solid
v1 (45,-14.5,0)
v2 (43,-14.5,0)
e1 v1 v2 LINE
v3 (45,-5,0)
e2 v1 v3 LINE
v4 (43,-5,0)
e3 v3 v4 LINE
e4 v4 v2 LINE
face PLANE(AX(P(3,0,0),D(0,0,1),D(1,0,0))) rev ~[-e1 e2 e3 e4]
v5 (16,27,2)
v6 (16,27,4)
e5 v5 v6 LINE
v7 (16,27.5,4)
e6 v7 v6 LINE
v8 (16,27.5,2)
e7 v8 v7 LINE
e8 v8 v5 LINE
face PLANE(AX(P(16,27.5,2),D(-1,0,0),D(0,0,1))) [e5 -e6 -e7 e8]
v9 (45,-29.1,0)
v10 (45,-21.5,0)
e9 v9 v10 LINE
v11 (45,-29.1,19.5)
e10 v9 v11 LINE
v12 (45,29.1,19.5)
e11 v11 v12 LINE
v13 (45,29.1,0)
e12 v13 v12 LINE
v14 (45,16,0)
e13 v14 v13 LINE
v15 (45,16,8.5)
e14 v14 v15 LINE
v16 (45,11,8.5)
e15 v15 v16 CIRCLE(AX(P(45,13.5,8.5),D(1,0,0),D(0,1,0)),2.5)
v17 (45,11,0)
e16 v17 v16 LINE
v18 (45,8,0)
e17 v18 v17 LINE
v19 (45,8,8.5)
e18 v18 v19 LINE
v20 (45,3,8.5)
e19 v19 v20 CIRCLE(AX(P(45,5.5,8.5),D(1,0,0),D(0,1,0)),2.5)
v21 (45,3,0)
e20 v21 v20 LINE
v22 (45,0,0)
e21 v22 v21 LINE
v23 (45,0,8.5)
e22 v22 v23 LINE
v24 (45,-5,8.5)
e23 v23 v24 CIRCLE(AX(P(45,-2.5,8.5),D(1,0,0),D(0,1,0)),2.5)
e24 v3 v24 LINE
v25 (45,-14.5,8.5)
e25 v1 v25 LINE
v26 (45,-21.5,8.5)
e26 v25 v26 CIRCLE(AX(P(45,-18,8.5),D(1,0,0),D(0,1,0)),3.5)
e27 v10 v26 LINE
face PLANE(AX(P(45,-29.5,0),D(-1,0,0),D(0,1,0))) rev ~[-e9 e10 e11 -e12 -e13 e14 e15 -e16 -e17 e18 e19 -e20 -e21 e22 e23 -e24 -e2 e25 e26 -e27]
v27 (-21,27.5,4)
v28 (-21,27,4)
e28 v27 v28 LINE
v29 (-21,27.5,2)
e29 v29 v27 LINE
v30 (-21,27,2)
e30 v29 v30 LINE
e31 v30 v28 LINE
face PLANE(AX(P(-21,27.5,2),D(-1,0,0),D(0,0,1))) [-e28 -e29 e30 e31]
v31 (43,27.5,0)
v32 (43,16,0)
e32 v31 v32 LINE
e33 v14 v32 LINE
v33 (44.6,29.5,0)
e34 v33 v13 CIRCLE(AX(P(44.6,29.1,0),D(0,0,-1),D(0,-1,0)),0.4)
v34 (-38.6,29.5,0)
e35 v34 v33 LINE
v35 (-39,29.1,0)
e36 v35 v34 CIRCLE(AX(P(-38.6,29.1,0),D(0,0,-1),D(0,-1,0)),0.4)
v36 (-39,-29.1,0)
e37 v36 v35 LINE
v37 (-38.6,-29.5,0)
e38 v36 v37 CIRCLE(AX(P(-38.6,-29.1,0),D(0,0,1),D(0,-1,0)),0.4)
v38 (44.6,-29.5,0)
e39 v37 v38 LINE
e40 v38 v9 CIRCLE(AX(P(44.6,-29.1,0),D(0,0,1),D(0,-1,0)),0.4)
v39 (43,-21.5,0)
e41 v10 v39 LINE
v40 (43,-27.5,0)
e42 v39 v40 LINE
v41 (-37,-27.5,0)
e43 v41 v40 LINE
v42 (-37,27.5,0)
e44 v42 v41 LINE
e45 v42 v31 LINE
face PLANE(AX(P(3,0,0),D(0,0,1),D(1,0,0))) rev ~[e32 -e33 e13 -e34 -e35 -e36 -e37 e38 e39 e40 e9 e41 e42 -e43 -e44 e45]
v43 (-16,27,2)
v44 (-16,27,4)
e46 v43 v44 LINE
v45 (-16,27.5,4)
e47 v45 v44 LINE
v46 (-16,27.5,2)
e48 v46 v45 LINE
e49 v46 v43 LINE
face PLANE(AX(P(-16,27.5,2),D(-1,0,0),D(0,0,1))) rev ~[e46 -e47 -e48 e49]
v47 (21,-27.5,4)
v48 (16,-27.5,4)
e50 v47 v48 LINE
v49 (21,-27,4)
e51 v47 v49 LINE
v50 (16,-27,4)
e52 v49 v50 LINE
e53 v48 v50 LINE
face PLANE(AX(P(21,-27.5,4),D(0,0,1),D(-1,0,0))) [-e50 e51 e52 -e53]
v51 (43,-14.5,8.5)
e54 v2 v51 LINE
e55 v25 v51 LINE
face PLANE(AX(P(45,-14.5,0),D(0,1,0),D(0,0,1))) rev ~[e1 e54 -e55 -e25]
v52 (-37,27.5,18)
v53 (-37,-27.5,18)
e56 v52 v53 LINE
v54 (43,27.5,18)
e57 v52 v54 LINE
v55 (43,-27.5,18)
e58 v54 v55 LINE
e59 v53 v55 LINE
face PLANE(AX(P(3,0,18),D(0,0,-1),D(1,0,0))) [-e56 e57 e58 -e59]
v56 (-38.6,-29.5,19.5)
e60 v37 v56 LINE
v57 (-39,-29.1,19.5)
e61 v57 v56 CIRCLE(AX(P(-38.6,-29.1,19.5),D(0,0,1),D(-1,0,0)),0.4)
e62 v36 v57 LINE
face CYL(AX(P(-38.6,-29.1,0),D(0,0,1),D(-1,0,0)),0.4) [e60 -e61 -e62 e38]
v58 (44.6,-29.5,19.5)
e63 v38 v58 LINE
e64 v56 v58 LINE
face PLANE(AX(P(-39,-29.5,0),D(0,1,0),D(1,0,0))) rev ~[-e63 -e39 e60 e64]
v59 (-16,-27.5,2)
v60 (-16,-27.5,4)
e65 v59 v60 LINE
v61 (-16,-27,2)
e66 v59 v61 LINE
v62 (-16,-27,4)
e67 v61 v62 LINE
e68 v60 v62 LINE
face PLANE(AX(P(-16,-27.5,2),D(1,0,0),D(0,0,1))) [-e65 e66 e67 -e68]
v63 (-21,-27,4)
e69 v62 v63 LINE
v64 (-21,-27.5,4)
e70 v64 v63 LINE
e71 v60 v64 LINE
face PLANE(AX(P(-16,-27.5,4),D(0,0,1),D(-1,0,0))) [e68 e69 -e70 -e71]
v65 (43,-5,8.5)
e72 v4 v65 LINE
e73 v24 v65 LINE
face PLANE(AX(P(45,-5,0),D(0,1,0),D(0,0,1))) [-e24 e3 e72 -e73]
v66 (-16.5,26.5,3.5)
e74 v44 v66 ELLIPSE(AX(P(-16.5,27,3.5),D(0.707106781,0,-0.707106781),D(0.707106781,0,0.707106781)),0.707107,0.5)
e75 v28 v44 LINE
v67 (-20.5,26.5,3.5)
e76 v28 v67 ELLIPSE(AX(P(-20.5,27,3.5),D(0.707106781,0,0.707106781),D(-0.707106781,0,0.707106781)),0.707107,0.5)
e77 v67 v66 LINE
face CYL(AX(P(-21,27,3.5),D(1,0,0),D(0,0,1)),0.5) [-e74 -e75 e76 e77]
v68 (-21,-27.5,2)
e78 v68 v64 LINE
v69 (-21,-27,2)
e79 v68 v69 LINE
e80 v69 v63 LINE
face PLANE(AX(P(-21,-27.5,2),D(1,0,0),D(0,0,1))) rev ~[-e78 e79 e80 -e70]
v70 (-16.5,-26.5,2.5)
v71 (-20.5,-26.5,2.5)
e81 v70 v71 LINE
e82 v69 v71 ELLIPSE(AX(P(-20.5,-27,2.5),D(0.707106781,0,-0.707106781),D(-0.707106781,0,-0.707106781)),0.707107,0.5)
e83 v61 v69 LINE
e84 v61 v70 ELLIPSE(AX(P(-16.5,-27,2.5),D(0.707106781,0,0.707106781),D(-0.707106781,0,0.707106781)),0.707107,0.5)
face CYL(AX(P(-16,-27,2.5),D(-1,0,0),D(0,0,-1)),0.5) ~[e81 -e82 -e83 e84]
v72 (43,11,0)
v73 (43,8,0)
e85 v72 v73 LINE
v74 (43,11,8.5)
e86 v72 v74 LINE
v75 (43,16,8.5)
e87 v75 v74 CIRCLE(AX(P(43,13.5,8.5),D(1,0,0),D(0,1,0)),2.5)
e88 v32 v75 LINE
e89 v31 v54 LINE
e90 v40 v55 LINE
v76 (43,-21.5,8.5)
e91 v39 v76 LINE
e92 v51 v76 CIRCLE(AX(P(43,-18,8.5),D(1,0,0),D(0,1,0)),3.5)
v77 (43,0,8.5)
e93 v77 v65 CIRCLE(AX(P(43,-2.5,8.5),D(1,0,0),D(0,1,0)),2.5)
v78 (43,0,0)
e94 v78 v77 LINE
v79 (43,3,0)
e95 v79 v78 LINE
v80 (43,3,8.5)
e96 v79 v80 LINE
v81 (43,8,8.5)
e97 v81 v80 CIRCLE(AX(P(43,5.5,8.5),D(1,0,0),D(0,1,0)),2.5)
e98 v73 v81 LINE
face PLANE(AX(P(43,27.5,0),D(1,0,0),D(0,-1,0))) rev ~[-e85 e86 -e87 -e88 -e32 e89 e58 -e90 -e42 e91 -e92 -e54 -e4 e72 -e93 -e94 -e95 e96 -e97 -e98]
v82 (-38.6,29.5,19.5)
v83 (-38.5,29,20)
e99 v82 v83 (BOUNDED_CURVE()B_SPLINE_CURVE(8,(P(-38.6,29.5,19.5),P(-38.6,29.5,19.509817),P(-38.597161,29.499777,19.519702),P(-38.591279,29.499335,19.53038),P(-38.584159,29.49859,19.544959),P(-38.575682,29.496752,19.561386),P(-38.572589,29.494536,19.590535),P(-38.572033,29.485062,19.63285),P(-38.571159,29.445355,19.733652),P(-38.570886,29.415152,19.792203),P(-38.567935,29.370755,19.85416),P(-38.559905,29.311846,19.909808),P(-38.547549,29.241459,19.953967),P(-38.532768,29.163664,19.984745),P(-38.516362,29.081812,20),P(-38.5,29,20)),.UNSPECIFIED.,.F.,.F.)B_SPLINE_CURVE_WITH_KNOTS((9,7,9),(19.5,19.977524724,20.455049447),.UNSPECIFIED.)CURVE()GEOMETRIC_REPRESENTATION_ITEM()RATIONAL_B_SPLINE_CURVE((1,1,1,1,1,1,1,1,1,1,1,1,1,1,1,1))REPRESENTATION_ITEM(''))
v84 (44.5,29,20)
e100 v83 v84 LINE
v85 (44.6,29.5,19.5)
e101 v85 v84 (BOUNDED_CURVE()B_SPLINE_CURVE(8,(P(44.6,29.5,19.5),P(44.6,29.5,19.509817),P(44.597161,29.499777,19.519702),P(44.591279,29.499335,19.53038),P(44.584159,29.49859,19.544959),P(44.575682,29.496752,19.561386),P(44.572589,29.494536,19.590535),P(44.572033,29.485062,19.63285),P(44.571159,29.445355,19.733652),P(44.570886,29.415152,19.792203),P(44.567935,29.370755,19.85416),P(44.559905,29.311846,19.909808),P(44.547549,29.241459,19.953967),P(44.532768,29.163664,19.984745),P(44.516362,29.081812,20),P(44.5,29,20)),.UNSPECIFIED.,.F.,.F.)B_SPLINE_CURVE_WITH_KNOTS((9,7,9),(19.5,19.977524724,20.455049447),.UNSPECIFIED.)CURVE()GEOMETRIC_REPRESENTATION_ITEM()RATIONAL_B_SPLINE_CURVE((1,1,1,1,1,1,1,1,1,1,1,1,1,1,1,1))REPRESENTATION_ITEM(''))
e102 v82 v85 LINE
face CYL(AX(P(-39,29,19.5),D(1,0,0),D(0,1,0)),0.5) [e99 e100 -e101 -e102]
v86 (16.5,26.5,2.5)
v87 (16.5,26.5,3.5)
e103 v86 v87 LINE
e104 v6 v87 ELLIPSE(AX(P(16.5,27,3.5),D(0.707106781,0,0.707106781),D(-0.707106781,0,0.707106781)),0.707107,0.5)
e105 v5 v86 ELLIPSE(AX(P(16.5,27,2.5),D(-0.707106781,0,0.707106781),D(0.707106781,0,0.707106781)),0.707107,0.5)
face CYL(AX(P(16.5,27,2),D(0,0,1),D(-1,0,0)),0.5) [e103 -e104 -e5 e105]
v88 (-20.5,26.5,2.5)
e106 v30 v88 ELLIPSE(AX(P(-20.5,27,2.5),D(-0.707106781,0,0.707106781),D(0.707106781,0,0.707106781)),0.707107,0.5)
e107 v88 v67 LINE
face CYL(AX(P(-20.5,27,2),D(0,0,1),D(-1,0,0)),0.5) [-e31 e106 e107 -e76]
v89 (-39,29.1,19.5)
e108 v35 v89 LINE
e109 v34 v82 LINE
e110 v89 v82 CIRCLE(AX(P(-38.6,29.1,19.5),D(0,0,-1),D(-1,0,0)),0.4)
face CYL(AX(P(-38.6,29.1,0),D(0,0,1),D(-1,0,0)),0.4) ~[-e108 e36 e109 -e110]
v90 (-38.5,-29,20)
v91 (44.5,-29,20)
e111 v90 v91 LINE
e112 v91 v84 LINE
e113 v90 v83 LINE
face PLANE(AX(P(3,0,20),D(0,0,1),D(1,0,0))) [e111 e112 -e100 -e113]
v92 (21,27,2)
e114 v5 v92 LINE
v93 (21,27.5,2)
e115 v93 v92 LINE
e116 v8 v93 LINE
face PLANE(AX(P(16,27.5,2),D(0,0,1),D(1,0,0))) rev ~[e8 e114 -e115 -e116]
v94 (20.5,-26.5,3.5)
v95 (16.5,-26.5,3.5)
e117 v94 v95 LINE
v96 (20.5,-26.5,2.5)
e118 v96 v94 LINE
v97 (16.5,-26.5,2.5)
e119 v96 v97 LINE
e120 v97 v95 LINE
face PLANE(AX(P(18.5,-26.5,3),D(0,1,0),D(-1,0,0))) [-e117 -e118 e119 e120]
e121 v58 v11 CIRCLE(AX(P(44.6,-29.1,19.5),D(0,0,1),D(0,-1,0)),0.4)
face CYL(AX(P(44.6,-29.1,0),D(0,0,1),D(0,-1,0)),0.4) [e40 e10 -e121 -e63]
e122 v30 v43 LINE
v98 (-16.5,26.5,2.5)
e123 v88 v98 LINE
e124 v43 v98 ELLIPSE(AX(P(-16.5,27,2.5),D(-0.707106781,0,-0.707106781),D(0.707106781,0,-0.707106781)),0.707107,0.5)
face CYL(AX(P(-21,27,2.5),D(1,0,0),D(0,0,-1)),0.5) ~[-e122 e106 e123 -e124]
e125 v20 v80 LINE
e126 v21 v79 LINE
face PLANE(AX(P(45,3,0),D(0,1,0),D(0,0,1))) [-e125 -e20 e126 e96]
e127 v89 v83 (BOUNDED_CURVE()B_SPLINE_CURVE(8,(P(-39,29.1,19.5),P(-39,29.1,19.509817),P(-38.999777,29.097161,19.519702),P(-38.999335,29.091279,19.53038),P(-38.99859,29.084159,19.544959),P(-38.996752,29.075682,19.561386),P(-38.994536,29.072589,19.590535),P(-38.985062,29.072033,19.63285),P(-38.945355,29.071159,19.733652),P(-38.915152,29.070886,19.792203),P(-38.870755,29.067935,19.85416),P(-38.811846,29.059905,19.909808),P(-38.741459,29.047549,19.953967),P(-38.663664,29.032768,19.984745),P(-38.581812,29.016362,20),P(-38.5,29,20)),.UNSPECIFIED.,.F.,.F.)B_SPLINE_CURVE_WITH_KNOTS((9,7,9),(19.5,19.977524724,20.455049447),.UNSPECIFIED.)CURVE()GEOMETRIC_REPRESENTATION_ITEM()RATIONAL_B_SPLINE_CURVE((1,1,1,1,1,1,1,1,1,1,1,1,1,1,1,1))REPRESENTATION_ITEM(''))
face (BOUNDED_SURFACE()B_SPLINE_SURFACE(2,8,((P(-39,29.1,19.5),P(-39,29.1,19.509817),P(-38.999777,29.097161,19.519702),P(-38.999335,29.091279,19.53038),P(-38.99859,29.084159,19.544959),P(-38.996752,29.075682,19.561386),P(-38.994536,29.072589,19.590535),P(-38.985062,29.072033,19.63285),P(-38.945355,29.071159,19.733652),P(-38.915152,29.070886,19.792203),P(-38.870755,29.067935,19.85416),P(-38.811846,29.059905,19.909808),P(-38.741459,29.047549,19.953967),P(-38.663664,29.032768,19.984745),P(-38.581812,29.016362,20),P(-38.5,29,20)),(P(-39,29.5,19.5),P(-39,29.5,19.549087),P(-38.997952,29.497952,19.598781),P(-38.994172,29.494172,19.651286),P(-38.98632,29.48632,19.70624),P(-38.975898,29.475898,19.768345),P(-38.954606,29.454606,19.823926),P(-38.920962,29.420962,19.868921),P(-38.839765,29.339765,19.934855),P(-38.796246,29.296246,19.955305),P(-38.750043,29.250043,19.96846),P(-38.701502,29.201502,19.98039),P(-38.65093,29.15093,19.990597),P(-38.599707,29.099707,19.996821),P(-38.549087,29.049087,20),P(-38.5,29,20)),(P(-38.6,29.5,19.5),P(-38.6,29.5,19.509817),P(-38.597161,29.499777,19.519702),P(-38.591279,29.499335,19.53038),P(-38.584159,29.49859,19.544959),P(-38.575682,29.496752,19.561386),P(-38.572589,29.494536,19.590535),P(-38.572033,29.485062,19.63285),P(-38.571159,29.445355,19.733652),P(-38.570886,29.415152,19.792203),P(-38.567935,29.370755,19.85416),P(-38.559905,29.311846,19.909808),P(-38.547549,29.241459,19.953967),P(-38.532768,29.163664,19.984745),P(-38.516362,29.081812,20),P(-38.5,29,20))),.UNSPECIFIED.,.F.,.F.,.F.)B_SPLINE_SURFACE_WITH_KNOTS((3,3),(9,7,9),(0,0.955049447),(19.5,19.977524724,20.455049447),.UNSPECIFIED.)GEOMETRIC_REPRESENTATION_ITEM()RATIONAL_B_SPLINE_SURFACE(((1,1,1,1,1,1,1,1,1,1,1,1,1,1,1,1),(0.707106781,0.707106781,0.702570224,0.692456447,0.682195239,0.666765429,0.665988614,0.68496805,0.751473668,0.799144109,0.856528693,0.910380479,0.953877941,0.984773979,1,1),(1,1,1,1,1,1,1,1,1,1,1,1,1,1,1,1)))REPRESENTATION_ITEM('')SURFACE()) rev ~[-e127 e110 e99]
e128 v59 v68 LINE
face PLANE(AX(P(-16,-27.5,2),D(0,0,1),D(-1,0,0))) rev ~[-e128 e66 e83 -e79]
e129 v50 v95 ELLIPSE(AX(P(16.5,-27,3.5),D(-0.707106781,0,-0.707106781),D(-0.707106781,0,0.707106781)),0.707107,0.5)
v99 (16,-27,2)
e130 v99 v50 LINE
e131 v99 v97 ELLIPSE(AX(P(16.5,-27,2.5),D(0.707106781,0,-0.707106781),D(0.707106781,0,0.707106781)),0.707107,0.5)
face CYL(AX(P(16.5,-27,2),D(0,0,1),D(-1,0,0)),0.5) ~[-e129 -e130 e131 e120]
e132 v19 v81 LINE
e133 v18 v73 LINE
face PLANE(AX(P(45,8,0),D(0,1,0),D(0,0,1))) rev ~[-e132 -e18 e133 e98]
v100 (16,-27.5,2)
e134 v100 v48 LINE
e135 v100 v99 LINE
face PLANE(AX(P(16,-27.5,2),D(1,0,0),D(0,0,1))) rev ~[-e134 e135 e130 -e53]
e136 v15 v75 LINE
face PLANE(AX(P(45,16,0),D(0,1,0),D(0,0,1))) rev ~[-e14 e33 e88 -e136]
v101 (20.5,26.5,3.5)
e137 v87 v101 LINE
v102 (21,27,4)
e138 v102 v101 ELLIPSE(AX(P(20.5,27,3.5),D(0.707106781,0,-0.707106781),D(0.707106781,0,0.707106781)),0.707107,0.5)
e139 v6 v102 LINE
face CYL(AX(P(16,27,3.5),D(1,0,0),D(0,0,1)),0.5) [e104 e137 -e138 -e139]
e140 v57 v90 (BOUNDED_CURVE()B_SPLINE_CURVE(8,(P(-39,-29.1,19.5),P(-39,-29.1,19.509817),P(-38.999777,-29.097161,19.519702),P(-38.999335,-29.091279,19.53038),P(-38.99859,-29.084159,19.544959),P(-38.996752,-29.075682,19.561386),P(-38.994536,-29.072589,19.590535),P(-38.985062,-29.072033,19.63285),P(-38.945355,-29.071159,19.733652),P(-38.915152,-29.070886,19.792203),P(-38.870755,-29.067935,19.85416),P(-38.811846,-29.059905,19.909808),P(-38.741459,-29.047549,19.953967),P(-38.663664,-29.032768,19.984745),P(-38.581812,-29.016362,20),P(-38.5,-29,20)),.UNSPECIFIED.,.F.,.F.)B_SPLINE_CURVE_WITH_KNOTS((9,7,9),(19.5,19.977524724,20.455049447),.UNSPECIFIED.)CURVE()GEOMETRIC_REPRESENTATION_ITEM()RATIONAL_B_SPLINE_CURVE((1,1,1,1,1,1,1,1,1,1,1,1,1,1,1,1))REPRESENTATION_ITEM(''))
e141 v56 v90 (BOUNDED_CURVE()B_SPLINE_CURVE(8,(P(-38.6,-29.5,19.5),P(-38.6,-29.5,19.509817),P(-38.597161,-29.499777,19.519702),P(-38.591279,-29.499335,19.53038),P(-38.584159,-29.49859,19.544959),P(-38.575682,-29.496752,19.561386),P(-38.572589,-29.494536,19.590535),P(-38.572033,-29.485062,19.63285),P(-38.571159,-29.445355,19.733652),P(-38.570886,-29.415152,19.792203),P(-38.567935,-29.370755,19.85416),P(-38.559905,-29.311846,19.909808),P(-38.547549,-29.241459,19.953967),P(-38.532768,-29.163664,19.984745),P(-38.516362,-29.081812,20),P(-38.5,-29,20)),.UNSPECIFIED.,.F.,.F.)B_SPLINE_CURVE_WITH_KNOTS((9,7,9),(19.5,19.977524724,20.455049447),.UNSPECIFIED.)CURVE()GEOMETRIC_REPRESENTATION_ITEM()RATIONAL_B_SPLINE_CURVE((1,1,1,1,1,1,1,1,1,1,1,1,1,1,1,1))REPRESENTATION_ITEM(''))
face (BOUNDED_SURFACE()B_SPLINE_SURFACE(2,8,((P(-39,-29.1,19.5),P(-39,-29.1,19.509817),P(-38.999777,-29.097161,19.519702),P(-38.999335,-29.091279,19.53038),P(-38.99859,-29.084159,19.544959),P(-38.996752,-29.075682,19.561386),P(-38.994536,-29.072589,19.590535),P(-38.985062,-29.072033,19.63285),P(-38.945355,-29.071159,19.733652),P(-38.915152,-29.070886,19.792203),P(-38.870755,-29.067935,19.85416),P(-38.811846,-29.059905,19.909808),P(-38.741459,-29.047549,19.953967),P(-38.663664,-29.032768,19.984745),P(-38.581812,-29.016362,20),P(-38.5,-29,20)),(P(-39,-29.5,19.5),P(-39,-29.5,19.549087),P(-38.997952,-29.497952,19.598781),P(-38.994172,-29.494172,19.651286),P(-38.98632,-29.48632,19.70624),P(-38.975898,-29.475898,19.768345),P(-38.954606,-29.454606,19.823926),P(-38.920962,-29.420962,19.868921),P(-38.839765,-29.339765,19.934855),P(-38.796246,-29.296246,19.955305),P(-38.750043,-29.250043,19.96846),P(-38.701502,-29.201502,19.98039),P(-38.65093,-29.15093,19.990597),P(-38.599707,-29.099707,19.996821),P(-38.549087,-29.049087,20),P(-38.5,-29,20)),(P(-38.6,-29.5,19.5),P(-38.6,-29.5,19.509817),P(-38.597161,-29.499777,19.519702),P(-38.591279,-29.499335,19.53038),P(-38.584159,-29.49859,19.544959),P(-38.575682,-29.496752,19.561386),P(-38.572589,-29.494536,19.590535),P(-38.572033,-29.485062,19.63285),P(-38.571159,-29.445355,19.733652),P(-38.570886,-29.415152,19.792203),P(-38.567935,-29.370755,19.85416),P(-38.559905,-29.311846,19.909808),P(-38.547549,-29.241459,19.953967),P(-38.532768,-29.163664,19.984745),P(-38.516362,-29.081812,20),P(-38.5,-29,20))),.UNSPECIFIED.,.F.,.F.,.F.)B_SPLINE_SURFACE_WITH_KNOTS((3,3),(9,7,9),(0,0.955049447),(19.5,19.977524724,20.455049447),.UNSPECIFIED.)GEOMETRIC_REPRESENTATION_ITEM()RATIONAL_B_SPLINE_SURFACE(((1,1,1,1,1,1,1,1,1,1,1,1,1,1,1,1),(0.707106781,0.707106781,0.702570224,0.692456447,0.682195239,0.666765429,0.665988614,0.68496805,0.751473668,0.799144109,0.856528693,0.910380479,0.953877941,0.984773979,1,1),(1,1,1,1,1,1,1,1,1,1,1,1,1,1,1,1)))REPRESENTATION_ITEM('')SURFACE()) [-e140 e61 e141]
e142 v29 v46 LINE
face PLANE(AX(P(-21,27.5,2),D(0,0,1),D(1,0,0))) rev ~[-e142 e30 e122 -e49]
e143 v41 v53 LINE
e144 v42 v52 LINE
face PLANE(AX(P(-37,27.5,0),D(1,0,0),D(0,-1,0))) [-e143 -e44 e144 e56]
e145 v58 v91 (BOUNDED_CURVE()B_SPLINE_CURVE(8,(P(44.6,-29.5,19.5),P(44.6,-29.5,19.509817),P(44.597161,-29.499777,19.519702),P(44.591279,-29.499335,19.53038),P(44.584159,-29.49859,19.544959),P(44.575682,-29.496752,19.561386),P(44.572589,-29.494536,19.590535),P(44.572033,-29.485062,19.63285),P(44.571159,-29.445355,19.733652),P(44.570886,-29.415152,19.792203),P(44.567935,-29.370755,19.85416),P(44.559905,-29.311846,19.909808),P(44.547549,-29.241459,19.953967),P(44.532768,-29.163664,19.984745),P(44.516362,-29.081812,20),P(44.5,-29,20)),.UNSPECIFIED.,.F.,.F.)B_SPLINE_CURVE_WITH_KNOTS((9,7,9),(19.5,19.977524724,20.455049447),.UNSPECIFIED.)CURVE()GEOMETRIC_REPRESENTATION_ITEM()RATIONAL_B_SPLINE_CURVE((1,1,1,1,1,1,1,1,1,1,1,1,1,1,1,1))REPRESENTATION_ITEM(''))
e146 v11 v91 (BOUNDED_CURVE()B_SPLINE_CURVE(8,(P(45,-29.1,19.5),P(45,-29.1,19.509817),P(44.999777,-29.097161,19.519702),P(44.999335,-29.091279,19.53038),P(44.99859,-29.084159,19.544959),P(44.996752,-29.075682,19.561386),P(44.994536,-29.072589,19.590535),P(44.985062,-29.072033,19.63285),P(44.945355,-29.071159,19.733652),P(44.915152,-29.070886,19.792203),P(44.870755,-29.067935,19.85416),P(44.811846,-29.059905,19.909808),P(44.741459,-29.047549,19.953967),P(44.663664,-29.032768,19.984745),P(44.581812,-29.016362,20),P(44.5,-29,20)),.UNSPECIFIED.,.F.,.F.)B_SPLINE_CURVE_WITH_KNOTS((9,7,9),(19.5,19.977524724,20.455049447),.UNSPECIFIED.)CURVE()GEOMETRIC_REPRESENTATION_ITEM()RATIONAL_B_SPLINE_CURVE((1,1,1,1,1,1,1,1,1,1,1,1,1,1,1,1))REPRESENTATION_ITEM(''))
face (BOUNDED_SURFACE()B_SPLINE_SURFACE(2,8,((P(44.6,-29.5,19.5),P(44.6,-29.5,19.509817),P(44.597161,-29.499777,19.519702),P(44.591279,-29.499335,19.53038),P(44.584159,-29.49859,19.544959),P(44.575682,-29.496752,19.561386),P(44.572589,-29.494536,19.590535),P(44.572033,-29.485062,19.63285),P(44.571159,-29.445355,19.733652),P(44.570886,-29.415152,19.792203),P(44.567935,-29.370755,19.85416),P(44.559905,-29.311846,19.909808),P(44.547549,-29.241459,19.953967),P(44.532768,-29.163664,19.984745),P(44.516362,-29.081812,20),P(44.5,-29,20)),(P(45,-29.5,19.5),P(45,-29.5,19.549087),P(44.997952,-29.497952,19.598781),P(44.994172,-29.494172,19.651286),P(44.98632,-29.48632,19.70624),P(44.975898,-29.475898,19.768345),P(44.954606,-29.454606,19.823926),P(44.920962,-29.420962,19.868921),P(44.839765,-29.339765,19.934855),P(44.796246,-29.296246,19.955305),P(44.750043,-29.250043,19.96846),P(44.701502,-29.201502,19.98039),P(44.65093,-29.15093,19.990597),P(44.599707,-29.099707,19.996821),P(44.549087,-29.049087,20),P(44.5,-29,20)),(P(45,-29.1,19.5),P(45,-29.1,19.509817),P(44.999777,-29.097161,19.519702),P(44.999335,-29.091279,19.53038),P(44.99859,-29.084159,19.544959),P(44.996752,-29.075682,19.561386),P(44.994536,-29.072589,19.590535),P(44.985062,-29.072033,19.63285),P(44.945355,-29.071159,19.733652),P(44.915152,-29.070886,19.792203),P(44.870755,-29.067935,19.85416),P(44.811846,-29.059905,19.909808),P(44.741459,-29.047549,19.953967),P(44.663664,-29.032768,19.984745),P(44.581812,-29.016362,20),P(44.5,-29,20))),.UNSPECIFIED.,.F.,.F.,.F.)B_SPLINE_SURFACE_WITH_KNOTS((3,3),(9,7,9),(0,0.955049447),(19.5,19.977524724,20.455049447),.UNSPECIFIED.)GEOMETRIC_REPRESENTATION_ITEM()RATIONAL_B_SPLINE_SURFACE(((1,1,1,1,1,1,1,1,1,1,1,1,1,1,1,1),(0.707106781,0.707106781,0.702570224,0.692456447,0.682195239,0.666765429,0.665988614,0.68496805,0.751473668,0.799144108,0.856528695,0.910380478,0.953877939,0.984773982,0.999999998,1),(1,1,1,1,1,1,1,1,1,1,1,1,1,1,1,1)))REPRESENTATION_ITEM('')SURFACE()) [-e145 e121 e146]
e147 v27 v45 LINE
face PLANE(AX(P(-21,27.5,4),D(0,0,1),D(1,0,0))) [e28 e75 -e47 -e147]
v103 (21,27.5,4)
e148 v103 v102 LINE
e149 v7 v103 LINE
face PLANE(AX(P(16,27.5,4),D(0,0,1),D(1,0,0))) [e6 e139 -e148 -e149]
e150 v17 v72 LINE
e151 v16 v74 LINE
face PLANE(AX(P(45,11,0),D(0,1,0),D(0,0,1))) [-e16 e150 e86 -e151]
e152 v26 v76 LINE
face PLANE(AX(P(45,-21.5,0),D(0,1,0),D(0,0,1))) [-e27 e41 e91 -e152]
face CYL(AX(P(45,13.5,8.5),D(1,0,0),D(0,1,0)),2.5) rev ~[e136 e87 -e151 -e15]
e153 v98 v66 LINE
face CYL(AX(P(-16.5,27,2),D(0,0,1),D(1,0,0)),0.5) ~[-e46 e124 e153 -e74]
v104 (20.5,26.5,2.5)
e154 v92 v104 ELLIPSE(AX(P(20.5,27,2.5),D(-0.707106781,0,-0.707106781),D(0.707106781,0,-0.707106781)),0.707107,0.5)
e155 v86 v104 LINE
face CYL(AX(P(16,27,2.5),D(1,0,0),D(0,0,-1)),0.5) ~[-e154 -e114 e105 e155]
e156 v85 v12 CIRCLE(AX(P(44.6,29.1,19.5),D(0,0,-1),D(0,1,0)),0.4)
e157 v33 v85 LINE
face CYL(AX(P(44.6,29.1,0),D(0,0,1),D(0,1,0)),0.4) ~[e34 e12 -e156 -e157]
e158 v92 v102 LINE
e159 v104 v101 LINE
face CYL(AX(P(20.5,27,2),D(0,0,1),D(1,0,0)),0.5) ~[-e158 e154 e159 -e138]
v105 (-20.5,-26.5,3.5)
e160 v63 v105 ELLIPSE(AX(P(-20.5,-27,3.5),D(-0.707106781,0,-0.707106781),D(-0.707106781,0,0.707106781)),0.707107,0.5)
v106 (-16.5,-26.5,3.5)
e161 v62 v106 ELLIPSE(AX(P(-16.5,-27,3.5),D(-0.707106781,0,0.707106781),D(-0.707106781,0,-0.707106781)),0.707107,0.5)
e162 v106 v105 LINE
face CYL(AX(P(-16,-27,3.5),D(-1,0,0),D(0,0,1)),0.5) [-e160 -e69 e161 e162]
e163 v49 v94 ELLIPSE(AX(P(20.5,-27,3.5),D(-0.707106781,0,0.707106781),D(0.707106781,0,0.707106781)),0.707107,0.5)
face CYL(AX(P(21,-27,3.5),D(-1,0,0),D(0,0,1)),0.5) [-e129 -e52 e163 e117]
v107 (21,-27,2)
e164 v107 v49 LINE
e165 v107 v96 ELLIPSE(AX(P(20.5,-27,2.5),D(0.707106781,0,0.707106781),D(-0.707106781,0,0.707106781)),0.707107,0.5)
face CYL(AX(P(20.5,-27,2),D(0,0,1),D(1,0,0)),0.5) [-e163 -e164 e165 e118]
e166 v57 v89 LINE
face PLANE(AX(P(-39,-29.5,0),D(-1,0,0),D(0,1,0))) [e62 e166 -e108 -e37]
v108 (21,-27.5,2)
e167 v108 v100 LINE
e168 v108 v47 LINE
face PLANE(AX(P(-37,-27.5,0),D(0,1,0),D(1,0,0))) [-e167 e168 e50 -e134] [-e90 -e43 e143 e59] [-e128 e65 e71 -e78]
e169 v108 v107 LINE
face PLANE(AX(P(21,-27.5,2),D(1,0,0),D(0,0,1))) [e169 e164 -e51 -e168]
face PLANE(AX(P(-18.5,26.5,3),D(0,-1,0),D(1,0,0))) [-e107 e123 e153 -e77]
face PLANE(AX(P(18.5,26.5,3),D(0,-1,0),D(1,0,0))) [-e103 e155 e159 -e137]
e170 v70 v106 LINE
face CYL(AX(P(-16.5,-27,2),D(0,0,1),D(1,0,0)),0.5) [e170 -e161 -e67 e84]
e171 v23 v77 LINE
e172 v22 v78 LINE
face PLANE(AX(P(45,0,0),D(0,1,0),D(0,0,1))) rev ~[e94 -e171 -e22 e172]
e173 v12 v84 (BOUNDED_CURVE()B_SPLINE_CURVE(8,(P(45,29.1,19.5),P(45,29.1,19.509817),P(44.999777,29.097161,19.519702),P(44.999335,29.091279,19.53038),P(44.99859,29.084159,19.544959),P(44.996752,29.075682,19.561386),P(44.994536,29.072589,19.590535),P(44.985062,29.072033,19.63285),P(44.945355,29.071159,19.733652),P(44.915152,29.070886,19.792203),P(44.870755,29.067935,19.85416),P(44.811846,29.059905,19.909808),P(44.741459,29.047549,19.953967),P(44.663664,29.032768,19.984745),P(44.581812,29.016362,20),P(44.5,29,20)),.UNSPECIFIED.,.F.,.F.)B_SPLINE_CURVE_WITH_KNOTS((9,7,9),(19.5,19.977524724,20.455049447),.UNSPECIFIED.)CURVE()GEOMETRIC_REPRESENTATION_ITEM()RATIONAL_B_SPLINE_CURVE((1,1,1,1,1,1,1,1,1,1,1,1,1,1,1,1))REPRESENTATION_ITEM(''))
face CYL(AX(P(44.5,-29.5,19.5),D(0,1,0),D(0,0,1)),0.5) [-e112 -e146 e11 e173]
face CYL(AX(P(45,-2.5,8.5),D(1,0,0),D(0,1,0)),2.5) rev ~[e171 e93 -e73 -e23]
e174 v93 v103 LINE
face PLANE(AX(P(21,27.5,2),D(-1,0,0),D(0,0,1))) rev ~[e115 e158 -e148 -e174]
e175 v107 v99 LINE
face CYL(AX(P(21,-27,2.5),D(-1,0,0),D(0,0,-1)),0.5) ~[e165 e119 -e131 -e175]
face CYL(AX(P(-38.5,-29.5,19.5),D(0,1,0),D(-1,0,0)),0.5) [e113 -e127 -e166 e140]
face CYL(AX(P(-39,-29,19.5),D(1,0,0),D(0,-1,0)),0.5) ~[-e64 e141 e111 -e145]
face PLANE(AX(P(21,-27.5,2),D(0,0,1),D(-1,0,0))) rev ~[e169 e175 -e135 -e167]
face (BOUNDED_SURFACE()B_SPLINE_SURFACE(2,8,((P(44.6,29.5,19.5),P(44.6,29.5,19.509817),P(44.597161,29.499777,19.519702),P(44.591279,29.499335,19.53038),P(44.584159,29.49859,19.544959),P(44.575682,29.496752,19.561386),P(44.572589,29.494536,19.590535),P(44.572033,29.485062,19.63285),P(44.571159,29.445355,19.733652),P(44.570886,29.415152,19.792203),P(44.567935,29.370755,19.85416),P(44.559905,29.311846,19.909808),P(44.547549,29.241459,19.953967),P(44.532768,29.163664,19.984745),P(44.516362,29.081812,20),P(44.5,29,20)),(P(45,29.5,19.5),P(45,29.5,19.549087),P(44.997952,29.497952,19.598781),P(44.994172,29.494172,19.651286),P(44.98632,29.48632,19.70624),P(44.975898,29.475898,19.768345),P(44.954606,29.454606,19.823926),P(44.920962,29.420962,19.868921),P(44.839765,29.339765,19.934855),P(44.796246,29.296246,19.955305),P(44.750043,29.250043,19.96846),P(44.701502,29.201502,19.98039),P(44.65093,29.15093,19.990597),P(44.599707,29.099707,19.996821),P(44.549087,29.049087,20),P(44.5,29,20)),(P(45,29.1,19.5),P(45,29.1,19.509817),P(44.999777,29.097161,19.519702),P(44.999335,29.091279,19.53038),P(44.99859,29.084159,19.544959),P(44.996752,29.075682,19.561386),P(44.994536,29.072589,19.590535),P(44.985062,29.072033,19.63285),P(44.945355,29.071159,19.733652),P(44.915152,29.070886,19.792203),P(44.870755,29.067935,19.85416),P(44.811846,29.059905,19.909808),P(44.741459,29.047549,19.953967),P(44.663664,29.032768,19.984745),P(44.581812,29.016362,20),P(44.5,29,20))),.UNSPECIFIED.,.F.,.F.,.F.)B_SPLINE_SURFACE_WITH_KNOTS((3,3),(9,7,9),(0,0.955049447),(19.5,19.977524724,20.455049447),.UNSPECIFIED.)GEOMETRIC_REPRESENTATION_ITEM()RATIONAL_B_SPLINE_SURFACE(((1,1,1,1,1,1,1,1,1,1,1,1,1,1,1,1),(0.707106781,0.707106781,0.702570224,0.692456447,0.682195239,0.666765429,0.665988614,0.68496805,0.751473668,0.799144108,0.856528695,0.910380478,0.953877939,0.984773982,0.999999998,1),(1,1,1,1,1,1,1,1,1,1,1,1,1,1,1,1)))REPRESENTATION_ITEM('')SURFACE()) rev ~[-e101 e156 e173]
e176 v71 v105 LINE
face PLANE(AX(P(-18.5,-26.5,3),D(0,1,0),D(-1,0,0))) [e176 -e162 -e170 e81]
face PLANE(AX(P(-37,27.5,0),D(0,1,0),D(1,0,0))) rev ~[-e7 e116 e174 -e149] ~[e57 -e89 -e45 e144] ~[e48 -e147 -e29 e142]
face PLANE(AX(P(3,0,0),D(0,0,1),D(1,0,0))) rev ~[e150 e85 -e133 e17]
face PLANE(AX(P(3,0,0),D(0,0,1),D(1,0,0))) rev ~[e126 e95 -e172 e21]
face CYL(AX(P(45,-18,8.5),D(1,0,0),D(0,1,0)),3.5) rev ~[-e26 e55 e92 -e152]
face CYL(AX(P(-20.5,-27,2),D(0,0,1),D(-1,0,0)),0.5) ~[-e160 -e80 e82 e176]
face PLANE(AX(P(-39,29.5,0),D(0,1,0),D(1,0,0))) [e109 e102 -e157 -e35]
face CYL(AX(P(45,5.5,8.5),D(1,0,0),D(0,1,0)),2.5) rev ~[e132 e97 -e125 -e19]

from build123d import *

# Parameters (mm, degrees)
SKETCH_W        = 84
SKETCH_H        = 59
PAD_DEPTH       = 20
SKETCH002_W     = 80
SKETCH002_H     = 55
POCKET_DEPTH    = 18
SKETCH003_W     = 5
SKETCH003_H     = 2
PAD001_DEPTH    = 1
SKETCH004_W     = 5
SKETCH004_H     = 2
PAD002_DEPTH    = 1
POCKET001_DEPTH = 2
FILLET_R        = 0.5
FILLET001_R     = 0.4
FILLET002_R     = 0.5
FILLET003_R     = 0.5


with BuildPart() as part:
    # Sketch → Pad (new body)
    with BuildSketch(Plane.XY):
        with Locations((3, 0)):
            Rectangle(SKETCH_W, SKETCH_H)
    extrude(amount=PAD_DEPTH)

    # Sketch002 (on Face5 of Pad) → Pocket (cut)
    with BuildSketch(Plane(origin=(0, 0, 0), x_dir=(1, 0, 0), z_dir=(0, 0, -1))):
        with Locations((3, 0)):
            Rectangle(SKETCH002_W, SKETCH002_H)
    extrude(amount=-POCKET_DEPTH, mode=Mode.SUBTRACT)

    # Sketch003 (on Face8 of Pocket) → Pad001 (join)
    with BuildSketch(Plane.XZ.offset(-27.5)):
        with Locations((-18.5, 3)):
            Rectangle(SKETCH003_W, SKETCH003_H)
        with Locations((18.5, 3)):
            Rectangle(SKETCH003_W, SKETCH003_H)
    extrude(amount=PAD001_DEPTH)

    # Sketch004 (on Face10 of Pad001) → Pad002 (join)
    with BuildSketch(Plane(origin=(0, -27.5, 0), x_dir=(-1, 0, 0), z_dir=(0, 1, 0))):
        with Locations((-18.5, 3)):
            Rectangle(SKETCH004_W, SKETCH004_H)
        with Locations((18.5, 3)):
            Rectangle(SKETCH004_W, SKETCH004_H)
    extrude(amount=PAD002_DEPTH)

    # Sketch005 (on Face3 of Pad002) → Pocket001 (cut)
    with BuildSketch(Plane.YZ.offset(45)):
        with BuildLine():
            ThreePointArc((-21.5, 0), (-18, -3.5), (-14.5, 0))
            Line((-14.5, 0), (-14.5, 8.5))
            ThreePointArc((-14.5, 8.5), (-18, 12), (-21.5, 8.5))
            Line((-21.5, 0), (-21.5, 8.5))
        make_face()
        with BuildLine():
            ThreePointArc((-5, 0), (-2.5, -2.5), (0, 0))
            Line((0, 0), (0, 8.5))
            ThreePointArc((0, 8.5), (-2.5, 11), (-5, 8.5))
            Line((-5, 0), (-5, 8.5))
        make_face()
        with BuildLine():
            ThreePointArc((3, 0), (5.5, -2.5), (8, 0))
            Line((8, 0), (8, 8.5))
            ThreePointArc((8, 8.5), (5.5, 11), (3, 8.5))
            Line((3, 0), (3, 8.5))
        make_face()
        with BuildLine():
            ThreePointArc((11, 0), (13.5, -2.5), (16, 0))
            Line((16, 0), (16, 8.5))
            ThreePointArc((16, 8.5), (13.5, 11), (11, 8.5))
            Line((11, 0), (11, 8.5))
        make_face()
    extrude(amount=-POCKET001_DEPTH, mode=Mode.SUBTRACT)

    # Fillet
    fillet_edges = [part.edges().sort_by_distance(p)[0] for p in [
        (3, 29.5, 20),
        (-39, 0, 20),
        (3, -29.5, 20),
        (45, 0, 20),
    ]]
    fillet(fillet_edges, radius=FILLET_R)

    # Fillet001
    fillet001_edges = [part.edges().sort_by_distance(p)[0] for p in [
        (45, 29.5, 9.75),
        (45, -29.5, 9.75),
        (-39, 29.5, 9.75),
        (-39, -29.5, 9.75),
    ]]
    fillet(fillet001_edges, radius=FILLET001_R)

    # Fillet002
    fillet002_edges = [part.edges().sort_by_distance(p)[0] for p in [
        (-18.5, -26.5, 2),
        (-21, -26.5, 3),
        (-18.5, -26.5, 4),
        (-16, -26.5, 3),
        (16, -26.5, 3),
        (18.5, -26.5, 2),
        (21, -26.5, 3),
        (18.5, -26.5, 4),
    ]]
    fillet(fillet002_edges, radius=FILLET002_R)

    # Fillet003
    fillet003_edges = [part.edges().sort_by_distance(p)[0] for p in [
        (-21, 26.5, 3),
        (-18.5, 26.5, 4),
        (-18.5, 26.5, 2),
        (-16, 26.5, 3),
        (18.5, 26.5, 2),
        (16, 26.5, 3),
        (18.5, 26.5, 4),
        (21, 26.5, 3),
    ]]
    fillet(fillet003_edges, radius=FILLET003_R)


solid = part.part
